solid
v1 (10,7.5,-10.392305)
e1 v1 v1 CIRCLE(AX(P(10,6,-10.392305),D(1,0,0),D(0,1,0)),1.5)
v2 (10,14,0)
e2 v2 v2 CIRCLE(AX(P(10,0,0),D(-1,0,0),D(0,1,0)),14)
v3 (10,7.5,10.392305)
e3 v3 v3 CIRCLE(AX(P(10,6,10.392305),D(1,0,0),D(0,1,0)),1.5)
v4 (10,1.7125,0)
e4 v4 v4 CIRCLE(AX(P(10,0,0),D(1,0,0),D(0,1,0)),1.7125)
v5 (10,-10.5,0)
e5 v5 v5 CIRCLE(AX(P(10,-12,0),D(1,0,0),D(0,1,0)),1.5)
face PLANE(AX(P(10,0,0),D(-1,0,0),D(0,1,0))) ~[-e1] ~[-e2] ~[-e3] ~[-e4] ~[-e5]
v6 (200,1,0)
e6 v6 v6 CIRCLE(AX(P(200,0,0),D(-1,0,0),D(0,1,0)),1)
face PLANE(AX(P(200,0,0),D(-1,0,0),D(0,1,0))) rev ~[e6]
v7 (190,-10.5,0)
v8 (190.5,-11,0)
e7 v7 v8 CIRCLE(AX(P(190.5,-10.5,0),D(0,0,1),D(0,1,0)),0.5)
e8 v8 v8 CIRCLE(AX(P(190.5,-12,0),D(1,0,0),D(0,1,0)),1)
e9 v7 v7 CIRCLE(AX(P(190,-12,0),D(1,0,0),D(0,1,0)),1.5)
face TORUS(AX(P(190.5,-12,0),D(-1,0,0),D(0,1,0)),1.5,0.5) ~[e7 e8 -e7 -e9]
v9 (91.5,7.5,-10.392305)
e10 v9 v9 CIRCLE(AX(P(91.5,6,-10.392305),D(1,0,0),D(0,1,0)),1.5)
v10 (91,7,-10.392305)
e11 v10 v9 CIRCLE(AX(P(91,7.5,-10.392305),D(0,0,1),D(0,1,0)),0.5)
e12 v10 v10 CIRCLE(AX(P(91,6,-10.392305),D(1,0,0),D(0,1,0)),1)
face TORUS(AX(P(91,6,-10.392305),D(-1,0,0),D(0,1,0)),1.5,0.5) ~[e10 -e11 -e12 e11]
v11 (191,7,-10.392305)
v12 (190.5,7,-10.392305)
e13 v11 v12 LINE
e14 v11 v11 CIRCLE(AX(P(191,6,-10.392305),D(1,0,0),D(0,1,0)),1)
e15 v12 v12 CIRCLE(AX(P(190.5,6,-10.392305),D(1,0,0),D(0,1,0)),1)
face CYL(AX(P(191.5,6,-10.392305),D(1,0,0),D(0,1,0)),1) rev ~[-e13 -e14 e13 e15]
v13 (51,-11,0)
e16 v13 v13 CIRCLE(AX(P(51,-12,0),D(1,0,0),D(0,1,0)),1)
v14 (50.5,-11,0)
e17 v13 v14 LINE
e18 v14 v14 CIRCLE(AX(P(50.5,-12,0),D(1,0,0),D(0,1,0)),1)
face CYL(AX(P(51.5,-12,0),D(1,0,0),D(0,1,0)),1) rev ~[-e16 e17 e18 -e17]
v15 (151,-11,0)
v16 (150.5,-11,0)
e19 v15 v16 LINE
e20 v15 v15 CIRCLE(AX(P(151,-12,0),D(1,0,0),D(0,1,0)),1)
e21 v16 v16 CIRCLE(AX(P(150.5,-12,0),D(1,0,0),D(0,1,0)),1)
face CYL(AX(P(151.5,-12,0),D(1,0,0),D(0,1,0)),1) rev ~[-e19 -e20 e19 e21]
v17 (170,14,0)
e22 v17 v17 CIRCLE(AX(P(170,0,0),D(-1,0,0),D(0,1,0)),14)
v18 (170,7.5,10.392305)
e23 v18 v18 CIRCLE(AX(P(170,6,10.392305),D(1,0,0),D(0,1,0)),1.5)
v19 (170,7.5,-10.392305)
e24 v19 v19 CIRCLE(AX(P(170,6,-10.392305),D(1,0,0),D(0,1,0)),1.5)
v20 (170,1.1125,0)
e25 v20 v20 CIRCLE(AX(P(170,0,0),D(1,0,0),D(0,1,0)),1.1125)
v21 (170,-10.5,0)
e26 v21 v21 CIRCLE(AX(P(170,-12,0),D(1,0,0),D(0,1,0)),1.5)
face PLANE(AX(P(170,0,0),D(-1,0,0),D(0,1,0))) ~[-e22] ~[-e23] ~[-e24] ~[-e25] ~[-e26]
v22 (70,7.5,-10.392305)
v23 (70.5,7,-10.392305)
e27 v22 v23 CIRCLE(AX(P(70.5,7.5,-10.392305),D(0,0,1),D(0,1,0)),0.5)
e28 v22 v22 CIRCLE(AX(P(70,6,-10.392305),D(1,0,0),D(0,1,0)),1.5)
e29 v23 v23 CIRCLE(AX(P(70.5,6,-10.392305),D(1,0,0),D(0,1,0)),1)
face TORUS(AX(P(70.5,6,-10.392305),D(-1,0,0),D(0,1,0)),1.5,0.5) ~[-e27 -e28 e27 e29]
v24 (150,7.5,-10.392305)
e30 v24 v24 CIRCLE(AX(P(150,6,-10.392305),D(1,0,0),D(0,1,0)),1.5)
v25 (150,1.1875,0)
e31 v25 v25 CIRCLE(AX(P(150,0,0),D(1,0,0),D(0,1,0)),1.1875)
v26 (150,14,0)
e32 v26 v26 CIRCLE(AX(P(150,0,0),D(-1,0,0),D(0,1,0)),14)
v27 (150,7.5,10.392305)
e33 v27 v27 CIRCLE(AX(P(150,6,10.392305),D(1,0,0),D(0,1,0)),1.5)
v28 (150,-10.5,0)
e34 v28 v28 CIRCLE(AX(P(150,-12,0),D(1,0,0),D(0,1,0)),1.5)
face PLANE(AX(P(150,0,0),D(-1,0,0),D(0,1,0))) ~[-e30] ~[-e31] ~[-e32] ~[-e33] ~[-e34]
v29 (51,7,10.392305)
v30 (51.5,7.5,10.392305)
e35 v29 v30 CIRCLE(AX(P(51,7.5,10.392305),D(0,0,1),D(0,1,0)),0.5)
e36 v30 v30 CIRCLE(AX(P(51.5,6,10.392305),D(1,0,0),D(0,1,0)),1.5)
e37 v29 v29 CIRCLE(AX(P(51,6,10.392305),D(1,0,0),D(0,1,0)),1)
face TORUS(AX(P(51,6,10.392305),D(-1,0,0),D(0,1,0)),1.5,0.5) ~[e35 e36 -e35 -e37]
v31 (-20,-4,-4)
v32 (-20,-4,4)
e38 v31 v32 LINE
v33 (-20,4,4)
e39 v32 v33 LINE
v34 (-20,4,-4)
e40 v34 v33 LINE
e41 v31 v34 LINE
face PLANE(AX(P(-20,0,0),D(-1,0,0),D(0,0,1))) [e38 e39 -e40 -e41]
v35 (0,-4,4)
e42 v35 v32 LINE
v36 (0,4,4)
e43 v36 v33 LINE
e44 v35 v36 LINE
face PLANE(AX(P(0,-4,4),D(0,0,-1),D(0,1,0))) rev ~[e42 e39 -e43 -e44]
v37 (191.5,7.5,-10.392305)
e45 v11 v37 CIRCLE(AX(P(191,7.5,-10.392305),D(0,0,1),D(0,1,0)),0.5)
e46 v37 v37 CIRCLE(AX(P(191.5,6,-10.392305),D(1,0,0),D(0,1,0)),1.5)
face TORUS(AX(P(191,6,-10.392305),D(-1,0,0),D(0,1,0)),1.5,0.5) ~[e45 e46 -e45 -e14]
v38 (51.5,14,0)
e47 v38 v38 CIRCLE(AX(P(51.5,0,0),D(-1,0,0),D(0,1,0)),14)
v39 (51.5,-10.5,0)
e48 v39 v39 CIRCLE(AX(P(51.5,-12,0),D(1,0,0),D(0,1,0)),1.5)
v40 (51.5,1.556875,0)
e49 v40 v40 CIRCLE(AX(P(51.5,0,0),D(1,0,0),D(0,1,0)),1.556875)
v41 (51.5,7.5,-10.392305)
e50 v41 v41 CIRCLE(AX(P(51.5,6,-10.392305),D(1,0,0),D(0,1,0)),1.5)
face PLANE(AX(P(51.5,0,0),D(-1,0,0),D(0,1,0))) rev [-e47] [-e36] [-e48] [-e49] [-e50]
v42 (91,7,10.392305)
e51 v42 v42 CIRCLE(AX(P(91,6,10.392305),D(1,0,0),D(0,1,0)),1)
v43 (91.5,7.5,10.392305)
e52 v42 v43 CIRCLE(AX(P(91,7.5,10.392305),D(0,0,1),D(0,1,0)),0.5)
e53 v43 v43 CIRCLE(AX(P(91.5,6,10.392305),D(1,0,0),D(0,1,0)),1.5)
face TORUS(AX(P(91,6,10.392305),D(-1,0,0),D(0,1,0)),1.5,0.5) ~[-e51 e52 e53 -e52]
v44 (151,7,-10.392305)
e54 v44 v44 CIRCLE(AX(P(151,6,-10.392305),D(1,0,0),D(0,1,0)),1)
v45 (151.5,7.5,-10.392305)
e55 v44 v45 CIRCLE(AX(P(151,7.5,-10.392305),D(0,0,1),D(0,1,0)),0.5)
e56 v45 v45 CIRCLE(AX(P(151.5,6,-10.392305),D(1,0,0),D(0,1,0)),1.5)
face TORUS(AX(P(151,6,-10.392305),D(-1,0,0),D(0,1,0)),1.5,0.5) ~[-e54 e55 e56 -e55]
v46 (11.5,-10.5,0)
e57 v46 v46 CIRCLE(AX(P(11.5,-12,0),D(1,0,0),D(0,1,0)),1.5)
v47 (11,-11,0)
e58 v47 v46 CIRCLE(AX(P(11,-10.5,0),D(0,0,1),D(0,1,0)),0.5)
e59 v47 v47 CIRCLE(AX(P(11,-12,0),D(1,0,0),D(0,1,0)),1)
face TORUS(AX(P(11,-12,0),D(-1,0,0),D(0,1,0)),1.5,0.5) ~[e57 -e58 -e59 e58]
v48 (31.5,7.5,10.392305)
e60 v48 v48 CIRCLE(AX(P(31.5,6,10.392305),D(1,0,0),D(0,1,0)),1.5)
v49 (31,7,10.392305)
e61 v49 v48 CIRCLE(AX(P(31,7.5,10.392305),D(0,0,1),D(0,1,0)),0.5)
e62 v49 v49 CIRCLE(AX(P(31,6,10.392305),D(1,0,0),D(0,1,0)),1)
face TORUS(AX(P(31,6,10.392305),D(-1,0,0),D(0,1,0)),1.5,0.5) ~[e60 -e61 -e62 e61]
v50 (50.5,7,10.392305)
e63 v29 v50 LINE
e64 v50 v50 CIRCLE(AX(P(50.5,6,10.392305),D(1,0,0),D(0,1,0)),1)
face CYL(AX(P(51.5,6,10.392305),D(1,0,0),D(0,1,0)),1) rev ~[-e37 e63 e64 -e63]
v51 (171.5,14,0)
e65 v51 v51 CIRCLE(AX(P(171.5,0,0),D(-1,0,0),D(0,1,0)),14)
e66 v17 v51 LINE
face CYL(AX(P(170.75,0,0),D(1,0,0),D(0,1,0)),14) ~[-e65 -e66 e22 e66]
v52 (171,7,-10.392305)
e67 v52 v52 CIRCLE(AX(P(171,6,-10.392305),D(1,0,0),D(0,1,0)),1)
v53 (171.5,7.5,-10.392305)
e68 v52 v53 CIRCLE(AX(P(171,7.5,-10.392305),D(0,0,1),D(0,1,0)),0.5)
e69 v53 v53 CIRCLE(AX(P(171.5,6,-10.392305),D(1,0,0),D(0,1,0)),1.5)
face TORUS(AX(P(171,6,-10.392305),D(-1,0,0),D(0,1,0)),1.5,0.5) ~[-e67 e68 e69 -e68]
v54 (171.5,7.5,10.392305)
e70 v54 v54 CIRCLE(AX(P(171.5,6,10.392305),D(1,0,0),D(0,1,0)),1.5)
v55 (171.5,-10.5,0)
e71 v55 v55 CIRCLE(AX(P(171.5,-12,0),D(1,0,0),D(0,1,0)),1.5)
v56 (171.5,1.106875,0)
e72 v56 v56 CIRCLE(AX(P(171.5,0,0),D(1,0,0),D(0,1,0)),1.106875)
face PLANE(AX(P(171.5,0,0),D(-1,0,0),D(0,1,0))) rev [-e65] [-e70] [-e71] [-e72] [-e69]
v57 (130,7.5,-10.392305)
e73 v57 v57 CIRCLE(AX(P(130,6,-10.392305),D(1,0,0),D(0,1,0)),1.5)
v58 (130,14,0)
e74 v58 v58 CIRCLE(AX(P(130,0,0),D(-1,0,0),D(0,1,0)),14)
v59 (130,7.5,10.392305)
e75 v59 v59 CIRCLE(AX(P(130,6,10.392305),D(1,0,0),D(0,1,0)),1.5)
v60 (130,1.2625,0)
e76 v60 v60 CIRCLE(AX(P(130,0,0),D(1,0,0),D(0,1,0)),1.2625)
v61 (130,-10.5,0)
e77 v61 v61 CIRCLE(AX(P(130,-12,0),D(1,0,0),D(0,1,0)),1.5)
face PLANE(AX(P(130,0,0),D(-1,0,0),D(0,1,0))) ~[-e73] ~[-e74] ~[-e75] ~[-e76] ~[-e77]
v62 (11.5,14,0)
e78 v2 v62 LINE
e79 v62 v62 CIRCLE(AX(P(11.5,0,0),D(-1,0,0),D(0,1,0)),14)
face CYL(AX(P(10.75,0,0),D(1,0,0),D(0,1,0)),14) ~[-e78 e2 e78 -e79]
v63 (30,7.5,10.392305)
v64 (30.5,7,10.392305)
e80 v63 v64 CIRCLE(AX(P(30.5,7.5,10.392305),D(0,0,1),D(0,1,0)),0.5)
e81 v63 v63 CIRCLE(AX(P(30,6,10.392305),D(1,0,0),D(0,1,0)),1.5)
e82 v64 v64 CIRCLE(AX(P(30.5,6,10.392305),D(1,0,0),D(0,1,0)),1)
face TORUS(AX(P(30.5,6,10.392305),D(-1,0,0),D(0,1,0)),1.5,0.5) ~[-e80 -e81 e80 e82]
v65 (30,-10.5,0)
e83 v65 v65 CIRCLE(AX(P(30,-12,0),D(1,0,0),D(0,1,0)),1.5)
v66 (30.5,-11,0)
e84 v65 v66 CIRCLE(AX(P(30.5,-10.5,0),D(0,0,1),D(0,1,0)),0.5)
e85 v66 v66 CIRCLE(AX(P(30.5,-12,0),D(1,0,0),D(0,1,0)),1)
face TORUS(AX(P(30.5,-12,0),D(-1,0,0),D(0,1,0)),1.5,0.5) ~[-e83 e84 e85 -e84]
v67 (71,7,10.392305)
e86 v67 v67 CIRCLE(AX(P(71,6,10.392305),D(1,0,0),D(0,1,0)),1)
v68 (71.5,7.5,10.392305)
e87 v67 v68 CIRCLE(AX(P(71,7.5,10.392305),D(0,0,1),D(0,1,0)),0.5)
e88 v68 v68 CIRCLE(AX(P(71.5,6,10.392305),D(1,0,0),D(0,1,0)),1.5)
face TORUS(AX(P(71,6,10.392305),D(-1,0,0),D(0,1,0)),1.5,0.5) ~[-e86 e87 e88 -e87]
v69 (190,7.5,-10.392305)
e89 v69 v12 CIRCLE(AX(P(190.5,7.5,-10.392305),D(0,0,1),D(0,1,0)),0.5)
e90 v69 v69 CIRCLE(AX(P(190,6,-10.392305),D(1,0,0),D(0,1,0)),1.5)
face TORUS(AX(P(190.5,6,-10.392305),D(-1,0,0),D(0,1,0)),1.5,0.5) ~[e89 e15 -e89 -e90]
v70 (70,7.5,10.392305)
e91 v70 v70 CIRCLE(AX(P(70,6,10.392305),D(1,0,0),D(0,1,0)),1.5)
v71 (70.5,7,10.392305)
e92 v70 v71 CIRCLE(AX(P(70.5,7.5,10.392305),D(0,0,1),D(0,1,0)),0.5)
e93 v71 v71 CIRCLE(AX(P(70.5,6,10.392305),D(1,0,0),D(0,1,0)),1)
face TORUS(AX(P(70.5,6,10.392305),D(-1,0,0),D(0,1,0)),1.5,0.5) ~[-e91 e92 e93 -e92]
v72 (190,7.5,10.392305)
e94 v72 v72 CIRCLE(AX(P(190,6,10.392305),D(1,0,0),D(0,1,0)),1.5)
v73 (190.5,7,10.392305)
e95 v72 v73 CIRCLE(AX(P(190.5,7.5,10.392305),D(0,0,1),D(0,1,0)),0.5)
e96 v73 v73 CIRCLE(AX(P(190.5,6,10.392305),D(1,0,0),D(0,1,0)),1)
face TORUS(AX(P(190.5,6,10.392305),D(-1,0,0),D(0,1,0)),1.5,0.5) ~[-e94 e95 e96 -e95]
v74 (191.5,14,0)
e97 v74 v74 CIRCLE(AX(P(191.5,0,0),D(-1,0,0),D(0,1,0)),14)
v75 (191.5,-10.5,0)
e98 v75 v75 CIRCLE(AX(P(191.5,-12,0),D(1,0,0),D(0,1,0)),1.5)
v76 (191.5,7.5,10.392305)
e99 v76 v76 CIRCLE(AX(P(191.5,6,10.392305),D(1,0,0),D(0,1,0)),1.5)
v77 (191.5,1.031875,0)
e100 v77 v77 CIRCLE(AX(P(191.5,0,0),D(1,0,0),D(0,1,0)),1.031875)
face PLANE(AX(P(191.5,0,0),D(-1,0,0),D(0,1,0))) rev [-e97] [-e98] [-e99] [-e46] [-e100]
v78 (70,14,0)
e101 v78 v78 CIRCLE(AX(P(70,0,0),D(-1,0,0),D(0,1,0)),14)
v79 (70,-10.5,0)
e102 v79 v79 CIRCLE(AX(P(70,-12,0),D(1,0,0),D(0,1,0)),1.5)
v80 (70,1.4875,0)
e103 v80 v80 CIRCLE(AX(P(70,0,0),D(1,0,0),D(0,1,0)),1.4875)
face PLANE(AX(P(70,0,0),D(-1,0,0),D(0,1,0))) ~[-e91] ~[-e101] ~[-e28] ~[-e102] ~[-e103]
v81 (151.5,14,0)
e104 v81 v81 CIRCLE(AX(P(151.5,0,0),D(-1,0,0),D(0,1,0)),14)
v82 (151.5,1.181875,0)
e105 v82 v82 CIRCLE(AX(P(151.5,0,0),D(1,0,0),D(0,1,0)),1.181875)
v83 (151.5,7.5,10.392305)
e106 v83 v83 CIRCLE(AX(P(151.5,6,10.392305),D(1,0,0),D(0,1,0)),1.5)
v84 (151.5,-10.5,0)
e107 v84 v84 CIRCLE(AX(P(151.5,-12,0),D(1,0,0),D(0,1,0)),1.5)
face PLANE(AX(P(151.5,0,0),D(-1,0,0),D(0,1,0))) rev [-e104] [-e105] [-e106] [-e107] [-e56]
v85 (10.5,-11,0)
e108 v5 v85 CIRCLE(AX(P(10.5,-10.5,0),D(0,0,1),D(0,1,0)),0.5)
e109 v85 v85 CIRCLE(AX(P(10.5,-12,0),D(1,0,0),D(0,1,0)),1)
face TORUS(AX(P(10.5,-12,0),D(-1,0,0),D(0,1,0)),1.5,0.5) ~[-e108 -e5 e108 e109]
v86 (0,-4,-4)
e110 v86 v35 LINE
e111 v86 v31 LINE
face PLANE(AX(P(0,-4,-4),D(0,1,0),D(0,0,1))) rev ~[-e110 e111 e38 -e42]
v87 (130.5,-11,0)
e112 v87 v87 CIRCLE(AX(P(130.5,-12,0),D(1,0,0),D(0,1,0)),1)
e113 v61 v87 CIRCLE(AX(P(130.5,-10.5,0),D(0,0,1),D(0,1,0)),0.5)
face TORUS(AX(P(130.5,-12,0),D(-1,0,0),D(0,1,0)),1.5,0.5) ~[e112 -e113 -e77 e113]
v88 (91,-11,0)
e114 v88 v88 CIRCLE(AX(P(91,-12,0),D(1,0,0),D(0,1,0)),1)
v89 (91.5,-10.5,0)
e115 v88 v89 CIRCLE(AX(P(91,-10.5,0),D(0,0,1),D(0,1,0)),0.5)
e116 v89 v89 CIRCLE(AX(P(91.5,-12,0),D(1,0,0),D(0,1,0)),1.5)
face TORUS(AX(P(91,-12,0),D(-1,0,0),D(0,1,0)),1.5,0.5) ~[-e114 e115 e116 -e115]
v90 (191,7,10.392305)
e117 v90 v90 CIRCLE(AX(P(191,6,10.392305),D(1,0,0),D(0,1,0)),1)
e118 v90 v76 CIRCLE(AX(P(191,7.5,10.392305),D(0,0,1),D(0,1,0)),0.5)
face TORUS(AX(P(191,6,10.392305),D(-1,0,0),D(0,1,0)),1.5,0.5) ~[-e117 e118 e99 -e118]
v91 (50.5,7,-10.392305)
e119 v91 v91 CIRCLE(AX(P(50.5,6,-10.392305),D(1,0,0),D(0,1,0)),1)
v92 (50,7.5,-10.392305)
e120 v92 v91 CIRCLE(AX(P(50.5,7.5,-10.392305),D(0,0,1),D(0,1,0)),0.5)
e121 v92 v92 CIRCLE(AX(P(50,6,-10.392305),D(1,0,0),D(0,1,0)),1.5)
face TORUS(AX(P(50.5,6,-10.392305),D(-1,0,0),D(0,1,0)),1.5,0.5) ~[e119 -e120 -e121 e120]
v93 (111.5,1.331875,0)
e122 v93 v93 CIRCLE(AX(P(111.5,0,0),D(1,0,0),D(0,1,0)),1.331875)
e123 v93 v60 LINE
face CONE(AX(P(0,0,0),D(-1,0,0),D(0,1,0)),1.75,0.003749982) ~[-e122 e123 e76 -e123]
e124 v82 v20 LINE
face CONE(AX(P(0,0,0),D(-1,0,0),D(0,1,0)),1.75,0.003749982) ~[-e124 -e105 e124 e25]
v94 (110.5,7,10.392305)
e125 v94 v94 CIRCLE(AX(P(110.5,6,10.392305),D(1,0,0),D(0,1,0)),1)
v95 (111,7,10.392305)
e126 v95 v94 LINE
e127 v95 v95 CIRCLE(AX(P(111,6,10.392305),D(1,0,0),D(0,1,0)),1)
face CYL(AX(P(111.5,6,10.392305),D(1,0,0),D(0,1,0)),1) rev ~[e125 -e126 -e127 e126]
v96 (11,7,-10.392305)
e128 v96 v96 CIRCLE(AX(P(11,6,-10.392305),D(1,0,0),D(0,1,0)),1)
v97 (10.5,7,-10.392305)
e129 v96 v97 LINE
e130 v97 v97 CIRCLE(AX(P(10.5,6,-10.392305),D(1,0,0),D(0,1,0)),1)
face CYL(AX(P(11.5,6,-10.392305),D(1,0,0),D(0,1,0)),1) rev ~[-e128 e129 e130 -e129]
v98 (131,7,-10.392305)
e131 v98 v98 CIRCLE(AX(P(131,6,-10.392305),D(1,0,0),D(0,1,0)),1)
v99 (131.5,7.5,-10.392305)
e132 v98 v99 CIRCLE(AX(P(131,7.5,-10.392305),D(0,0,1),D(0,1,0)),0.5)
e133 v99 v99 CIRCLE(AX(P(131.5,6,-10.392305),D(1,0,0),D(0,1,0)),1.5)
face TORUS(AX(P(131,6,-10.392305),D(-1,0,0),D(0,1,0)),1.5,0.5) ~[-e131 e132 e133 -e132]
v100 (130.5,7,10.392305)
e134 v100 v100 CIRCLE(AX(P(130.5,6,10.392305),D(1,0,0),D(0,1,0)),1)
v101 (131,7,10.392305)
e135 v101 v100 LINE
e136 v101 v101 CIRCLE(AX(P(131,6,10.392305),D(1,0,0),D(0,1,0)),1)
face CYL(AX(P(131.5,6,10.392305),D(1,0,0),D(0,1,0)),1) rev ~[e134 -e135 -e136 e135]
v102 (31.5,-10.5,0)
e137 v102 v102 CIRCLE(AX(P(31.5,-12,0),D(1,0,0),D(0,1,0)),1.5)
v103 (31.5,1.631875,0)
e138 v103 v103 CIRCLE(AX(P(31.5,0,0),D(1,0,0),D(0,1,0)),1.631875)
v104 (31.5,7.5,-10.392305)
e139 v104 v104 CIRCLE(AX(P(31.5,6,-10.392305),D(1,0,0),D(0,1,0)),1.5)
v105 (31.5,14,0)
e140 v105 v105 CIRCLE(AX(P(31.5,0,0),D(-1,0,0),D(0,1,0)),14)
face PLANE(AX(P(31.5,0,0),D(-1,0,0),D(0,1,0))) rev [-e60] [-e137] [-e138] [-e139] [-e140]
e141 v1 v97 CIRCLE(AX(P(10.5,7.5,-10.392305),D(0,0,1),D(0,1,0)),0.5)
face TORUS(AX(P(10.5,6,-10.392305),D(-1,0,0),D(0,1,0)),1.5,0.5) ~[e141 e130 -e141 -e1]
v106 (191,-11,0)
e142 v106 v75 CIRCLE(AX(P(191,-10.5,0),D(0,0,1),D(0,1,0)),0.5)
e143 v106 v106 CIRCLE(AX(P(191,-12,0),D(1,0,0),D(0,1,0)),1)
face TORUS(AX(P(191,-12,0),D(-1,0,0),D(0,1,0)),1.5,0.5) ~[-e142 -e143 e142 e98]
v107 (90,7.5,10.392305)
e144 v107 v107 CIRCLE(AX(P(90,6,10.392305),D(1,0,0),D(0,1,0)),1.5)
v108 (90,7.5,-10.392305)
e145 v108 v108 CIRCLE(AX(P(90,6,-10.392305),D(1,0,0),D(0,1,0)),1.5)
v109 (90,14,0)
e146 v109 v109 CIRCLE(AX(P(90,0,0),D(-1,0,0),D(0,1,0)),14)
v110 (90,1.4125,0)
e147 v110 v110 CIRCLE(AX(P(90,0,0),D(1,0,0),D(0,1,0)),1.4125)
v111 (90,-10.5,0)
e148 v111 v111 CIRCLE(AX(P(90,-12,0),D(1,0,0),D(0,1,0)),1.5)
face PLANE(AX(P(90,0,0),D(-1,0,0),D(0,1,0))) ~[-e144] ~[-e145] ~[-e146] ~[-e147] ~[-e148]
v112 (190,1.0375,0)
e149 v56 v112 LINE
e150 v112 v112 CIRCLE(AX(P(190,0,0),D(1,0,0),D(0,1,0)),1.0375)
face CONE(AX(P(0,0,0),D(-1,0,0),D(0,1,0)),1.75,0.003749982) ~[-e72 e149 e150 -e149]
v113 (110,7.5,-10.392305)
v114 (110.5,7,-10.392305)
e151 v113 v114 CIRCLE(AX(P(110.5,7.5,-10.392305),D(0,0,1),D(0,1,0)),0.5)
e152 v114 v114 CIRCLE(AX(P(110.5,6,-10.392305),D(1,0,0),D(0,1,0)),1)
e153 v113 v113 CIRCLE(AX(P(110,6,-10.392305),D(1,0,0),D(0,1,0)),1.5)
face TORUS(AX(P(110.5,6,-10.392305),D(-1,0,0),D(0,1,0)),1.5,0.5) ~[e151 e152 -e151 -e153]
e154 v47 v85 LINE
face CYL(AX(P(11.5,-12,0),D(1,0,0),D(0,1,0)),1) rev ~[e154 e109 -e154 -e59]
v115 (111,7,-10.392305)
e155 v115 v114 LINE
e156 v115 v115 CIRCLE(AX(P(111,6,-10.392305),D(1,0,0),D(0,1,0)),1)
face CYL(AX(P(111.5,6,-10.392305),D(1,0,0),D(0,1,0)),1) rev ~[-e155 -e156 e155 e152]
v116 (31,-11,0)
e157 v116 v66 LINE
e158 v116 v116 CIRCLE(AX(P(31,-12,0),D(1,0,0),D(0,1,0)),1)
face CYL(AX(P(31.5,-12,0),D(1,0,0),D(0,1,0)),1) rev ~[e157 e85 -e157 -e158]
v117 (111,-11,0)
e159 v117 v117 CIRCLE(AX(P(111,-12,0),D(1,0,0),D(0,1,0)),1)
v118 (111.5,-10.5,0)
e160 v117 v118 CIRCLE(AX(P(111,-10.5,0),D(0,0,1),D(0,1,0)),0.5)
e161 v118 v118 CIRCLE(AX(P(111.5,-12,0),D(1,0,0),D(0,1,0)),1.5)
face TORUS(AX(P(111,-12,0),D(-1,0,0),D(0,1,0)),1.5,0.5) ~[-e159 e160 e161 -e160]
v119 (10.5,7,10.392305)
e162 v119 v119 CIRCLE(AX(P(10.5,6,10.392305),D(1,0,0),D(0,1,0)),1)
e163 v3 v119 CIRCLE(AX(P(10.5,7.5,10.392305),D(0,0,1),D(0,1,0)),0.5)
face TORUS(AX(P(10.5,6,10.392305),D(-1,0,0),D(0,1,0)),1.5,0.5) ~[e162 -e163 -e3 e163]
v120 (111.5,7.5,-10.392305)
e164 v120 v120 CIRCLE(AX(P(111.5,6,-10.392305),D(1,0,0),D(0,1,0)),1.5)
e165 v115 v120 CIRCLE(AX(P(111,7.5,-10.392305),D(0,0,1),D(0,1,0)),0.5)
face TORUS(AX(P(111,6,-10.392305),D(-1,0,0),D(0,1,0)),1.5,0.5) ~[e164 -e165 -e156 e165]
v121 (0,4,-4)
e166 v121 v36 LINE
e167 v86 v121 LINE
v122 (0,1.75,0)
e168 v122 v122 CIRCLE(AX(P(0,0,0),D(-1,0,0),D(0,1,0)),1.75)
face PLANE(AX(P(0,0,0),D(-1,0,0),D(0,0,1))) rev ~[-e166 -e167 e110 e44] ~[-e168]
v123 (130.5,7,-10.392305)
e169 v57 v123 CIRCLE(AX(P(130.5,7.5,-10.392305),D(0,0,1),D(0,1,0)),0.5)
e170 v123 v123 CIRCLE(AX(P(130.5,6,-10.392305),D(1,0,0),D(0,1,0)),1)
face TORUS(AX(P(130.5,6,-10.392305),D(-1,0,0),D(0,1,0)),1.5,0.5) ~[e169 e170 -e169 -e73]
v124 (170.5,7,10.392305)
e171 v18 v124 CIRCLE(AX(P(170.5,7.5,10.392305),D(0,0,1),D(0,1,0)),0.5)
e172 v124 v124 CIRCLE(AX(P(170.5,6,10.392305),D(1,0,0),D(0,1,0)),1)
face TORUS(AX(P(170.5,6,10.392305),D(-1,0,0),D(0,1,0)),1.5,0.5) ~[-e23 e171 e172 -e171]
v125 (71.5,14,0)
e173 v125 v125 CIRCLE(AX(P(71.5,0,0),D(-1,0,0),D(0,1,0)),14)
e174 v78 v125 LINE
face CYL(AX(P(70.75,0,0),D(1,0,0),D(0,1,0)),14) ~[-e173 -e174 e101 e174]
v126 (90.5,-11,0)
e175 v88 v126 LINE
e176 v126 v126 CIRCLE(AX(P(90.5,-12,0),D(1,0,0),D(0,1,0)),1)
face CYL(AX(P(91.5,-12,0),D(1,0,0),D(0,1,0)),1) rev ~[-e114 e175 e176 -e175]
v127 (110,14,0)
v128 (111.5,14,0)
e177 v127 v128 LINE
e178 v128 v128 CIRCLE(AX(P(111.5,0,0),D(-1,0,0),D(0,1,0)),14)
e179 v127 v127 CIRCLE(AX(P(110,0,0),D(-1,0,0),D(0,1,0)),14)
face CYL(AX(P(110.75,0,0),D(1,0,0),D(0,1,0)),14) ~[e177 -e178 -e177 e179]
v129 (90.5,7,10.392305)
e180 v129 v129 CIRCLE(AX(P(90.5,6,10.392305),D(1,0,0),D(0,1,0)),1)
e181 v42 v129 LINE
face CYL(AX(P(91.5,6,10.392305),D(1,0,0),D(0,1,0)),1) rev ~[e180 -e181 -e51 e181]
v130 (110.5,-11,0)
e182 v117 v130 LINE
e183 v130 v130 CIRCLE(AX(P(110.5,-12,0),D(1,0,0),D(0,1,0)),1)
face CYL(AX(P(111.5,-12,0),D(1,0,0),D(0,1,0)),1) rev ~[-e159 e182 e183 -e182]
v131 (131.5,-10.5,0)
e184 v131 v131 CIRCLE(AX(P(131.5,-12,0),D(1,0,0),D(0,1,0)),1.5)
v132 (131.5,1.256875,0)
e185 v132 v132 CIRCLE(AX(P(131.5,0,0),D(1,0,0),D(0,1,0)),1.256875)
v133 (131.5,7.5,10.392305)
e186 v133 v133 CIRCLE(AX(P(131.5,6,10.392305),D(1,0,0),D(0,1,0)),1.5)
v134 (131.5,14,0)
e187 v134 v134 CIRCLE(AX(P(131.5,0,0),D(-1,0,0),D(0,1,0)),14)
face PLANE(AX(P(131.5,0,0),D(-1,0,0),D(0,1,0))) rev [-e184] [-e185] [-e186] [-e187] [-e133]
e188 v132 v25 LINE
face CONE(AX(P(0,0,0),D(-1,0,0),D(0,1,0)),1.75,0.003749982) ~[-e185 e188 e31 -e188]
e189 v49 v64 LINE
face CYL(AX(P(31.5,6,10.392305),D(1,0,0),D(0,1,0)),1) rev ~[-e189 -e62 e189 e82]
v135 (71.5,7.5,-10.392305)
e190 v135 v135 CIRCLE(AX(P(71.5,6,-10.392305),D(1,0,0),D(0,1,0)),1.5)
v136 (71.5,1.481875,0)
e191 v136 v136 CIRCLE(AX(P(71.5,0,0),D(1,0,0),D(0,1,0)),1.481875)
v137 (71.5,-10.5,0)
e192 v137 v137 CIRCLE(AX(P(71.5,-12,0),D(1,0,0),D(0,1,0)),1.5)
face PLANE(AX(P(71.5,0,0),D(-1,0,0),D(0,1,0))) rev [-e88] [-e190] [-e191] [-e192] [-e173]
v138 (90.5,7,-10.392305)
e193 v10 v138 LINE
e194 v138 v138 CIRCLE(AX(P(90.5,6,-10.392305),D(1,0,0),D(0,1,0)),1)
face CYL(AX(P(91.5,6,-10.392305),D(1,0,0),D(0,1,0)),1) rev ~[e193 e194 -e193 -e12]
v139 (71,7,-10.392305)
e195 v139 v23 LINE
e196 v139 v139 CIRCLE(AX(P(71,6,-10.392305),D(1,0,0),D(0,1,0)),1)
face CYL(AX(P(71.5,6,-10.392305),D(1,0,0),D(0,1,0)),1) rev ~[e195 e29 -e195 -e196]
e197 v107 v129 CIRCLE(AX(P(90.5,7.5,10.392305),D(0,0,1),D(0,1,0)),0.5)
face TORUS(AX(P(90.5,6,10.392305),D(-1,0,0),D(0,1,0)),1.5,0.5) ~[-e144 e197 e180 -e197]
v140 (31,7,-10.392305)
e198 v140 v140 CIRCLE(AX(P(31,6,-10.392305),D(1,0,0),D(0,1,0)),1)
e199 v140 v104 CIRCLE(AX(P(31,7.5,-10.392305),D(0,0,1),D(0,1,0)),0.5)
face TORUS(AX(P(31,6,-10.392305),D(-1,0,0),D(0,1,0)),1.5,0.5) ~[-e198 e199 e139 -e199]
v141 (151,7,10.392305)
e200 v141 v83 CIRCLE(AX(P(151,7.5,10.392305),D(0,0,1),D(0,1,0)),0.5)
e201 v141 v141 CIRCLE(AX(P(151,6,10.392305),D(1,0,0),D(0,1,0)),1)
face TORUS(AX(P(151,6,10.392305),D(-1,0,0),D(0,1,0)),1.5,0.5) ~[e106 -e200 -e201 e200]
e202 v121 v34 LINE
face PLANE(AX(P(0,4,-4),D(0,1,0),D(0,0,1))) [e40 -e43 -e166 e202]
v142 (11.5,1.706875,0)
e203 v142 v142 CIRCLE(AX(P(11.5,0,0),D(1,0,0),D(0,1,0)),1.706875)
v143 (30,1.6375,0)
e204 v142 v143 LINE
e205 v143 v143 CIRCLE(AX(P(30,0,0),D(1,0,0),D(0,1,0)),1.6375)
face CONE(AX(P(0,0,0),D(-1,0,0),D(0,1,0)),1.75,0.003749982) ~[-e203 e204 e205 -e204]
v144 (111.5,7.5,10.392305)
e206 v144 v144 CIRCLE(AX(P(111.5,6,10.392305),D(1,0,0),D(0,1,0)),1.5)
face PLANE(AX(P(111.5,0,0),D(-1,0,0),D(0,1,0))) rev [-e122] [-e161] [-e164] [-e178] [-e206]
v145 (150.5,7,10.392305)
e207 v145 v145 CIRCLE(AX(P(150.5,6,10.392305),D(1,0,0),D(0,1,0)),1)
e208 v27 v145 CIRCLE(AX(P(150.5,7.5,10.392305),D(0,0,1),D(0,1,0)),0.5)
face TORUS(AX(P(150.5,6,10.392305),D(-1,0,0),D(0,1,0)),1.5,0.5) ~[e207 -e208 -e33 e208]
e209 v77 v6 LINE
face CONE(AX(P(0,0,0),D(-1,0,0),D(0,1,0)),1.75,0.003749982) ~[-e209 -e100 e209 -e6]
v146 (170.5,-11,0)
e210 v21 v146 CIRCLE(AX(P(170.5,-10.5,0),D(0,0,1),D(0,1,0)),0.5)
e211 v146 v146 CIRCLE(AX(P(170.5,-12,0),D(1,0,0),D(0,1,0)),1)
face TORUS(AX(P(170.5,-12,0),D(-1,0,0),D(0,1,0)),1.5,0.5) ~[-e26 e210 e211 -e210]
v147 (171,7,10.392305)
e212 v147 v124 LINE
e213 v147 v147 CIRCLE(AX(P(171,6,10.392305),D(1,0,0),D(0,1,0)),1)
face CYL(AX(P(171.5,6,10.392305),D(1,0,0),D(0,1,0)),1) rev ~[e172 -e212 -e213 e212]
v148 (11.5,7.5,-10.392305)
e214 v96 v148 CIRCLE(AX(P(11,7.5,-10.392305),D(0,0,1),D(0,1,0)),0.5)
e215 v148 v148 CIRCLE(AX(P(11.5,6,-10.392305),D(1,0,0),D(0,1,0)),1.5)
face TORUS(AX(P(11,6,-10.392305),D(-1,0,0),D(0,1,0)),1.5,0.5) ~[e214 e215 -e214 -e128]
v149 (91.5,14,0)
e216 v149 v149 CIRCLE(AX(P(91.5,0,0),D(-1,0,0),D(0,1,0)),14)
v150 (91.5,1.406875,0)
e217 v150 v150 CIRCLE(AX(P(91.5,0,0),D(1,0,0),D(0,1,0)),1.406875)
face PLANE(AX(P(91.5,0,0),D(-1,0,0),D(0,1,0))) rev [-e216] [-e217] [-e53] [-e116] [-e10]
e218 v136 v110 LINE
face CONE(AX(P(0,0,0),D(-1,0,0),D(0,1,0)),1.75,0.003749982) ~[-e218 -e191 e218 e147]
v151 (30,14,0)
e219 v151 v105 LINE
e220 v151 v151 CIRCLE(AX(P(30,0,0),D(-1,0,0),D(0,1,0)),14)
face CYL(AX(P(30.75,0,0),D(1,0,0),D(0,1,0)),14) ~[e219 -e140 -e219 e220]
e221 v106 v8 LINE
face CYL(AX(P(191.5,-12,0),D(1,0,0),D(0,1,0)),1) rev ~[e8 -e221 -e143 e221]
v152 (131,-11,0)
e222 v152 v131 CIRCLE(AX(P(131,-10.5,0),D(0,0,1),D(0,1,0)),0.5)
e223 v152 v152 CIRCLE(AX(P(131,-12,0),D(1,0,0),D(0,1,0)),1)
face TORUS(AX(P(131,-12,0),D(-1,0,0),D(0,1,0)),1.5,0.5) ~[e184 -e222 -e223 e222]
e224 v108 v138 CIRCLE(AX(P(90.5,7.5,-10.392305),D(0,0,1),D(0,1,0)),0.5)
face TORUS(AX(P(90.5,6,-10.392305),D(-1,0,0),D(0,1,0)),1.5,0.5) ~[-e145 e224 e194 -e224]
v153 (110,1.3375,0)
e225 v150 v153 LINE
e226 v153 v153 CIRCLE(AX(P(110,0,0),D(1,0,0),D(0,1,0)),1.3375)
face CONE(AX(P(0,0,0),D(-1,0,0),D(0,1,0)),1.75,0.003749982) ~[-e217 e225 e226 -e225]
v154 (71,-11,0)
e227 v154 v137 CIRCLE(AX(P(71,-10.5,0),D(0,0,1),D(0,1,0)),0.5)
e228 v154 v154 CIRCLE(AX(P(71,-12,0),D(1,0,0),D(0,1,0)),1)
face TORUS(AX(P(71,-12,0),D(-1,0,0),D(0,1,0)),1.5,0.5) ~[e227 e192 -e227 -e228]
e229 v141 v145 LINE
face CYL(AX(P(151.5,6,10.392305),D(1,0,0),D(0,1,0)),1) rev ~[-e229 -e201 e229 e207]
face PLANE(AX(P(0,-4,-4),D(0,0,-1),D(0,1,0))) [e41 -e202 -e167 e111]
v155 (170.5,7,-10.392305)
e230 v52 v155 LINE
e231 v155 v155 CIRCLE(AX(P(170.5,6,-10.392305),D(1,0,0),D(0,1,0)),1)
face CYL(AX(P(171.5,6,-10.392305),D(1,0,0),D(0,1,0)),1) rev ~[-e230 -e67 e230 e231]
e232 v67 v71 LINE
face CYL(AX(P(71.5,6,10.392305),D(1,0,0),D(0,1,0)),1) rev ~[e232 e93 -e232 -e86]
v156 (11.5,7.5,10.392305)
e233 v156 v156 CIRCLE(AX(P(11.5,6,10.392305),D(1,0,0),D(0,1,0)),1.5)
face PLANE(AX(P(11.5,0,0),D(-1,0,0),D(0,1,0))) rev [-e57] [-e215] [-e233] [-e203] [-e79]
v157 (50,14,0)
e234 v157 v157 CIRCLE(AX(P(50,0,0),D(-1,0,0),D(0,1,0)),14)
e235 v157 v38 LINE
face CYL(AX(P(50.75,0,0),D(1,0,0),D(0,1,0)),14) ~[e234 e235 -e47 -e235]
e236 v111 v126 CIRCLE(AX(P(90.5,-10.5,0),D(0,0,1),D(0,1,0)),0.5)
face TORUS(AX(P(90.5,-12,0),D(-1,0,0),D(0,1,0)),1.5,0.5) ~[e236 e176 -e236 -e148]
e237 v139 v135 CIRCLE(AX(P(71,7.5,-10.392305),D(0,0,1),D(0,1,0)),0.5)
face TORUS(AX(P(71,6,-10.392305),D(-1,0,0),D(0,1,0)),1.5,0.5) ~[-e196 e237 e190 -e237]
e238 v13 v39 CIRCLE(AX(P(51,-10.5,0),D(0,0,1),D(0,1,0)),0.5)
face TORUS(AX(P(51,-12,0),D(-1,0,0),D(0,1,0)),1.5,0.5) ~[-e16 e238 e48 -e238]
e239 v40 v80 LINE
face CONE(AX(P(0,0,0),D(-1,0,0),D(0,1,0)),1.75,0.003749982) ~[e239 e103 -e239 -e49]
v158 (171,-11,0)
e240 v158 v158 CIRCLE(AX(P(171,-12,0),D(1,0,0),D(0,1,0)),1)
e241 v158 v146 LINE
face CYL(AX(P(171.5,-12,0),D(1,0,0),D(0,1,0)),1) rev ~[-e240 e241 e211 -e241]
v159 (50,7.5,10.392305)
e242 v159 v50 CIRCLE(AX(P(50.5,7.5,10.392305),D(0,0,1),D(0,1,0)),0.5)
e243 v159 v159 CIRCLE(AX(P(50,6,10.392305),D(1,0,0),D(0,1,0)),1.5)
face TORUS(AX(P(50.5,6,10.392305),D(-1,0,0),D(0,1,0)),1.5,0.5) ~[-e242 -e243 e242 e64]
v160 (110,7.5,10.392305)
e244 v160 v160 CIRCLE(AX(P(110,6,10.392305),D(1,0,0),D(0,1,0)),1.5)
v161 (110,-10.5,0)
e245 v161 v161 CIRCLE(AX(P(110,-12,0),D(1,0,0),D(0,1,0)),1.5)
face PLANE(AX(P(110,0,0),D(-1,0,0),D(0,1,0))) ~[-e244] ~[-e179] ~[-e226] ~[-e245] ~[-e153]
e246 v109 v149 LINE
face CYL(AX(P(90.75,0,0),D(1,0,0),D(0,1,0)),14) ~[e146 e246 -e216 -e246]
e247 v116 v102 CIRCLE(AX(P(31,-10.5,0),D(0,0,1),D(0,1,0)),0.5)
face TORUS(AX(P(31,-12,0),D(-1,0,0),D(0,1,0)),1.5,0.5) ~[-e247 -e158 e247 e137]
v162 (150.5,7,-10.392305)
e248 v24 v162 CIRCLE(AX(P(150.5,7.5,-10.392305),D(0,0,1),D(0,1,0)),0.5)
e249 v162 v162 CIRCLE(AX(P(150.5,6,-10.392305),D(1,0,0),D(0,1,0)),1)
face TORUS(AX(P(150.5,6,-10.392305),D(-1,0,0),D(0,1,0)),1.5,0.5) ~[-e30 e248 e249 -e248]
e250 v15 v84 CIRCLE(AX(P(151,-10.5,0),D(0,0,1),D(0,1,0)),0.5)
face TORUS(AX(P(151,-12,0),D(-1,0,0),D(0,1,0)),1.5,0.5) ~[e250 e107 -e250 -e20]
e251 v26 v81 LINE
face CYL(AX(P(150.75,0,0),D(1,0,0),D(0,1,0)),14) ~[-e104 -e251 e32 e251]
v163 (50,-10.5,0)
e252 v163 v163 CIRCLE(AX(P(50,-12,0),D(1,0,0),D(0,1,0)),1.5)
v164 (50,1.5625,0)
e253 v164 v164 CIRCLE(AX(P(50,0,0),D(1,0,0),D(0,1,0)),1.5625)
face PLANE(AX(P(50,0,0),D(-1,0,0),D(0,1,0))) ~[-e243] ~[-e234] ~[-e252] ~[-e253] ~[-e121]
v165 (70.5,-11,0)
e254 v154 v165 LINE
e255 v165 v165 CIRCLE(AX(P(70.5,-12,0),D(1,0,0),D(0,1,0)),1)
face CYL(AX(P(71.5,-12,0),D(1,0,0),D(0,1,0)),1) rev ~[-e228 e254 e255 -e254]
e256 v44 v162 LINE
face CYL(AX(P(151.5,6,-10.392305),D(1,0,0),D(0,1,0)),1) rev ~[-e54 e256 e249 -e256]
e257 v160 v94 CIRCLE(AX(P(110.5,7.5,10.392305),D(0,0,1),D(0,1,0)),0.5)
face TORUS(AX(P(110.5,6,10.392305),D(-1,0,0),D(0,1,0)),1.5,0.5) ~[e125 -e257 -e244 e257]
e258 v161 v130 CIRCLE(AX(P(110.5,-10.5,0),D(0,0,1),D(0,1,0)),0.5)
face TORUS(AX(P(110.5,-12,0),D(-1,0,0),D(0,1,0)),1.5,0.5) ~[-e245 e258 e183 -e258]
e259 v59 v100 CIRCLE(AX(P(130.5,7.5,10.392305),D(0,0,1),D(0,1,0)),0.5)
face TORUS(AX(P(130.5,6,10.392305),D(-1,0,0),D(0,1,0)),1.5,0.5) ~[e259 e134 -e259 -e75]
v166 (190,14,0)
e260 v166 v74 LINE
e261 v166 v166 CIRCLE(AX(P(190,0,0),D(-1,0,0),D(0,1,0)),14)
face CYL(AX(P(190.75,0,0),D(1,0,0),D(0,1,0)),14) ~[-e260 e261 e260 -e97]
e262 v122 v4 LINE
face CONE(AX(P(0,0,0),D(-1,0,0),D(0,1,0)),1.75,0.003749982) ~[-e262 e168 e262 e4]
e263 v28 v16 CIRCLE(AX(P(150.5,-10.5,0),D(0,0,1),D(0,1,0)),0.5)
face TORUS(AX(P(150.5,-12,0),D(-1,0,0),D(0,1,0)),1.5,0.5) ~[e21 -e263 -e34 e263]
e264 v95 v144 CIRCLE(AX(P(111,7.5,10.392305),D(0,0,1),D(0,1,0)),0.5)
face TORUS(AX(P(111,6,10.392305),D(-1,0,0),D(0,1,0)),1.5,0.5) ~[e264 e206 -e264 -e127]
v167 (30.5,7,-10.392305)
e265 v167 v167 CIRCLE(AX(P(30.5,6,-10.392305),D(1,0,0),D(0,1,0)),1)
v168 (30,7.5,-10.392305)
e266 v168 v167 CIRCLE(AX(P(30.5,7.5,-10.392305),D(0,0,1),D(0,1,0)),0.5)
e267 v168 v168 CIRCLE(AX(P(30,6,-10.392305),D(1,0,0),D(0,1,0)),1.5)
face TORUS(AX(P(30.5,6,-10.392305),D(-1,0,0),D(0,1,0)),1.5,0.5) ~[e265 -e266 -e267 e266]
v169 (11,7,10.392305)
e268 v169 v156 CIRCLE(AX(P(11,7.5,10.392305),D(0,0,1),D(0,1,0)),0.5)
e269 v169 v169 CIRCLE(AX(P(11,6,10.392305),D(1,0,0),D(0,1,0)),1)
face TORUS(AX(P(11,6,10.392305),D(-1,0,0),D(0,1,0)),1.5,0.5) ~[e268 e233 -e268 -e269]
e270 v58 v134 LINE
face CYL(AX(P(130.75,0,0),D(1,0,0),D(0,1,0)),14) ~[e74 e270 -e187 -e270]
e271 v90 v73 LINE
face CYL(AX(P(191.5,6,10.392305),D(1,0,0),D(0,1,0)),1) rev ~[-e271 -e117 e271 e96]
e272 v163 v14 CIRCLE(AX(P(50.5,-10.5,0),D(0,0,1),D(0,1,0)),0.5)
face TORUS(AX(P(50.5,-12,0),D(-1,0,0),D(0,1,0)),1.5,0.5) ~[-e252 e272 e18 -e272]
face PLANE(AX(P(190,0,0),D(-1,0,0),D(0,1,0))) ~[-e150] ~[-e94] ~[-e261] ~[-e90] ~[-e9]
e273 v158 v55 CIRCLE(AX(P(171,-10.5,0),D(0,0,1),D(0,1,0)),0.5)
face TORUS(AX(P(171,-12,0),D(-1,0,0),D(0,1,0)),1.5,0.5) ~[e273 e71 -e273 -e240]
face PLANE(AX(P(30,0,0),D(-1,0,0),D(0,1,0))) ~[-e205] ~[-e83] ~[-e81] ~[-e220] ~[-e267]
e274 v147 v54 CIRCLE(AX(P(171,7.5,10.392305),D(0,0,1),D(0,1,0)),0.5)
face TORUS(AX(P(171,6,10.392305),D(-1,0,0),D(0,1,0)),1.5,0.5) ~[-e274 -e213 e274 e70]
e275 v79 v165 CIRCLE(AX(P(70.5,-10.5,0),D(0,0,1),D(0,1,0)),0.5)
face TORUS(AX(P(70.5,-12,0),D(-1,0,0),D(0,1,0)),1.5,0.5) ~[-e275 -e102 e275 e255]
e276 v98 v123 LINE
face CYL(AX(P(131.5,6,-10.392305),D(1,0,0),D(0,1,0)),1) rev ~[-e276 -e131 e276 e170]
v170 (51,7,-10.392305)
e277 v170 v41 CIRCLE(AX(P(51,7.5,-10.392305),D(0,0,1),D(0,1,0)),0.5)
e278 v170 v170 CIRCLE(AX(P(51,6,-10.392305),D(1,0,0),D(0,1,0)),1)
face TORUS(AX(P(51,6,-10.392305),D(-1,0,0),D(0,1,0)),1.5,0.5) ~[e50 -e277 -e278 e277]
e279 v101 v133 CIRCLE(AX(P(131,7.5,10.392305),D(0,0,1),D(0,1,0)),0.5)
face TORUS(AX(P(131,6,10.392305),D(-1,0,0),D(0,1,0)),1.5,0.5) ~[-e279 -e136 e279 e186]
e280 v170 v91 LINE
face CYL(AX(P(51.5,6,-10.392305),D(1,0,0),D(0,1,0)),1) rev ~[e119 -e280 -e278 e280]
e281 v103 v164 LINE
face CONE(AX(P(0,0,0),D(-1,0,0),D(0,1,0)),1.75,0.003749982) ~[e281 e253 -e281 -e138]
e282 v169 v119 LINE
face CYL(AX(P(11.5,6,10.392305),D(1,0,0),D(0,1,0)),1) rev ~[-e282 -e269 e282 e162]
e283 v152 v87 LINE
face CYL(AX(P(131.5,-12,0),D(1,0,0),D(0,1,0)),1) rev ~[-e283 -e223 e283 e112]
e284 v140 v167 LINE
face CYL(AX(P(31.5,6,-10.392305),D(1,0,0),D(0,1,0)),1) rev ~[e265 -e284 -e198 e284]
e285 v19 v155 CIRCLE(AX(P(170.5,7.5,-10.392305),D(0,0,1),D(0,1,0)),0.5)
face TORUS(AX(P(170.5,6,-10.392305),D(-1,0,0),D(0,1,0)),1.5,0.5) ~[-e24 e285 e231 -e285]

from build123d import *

# Parameters (mm, degrees)
SKETCH3_W              = 1.5
SKETCH3_H              = 14
CUT_EXTRUDE1_REACH     = 191.537
SKETCH5_R              = 1
FILLET1_R              = 0.5
LPATTERN1_COUNT        = 10
LPATTERN1_PITCH        = 20
FILLET1_OF_LPATTERN1_R = 0.5
SKETCH16_W             = 8
SKETCH16_H             = 8
BOSS_EXTRUDE1_DEPTH    = 20


with BuildPart() as part:
    # Sketch2 → Revolve1 (revolve)
    with BuildSketch(Plane.XY):
        Polygon((0, 1.75), (200, 1), (200, 0), (0, 0), align=None)
    revolve(axis=Axis((200, 0, 0), (-1, 0, 0)))

    # Sketch3 → Revolve2 (revolve)
    with BuildSketch(Plane.XY):
        with Locations((10.75, 7)):
            Rectangle(SKETCH3_W, SKETCH3_H)
    revolve2 = revolve(axis=Axis((11.5, 0, 0), (-1, 0, 0)))

    # Sketch5 → Cut-Extrude1 (cut, up to next)
    with BuildSketch(Plane(origin=(11.5, 0, 0), x_dir=(0, 0, -1), z_dir=(1, 0, 0)), mode=Mode.PRIVATE) as cut_extrude1_sk1:
        with Locations((0, -12)):
            Circle(SKETCH5_R)
    cut_extrude1_tool1 = extrude(cut_extrude1_sk1.sketch, amount=-CUT_EXTRUDE1_REACH, mode=Mode.PRIVATE) & part.part
    # Sketch5 → Cut-Extrude1 (cut, up to next)
    with BuildSketch(Plane(origin=(11.5, 0, 0), x_dir=(0, 0, -1), z_dir=(1, 0, 0)), mode=Mode.PRIVATE) as cut_extrude1_sk2:
        with Locations((10.392304845, 6)):
            Circle(SKETCH5_R)
    cut_extrude1_tool2 = extrude(cut_extrude1_sk2.sketch, amount=-CUT_EXTRUDE1_REACH, mode=Mode.PRIVATE) & part.part
    # Sketch5 → Cut-Extrude1 (cut, up to next)
    with BuildSketch(Plane(origin=(11.5, 0, 0), x_dir=(0, 0, -1), z_dir=(1, 0, 0)), mode=Mode.PRIVATE) as cut_extrude1_sk3:
        with Locations((-10.392304845, 6)):
            Circle(SKETCH5_R)
    cut_extrude1_tool3 = extrude(cut_extrude1_sk3.sketch, amount=-CUT_EXTRUDE1_REACH, mode=Mode.PRIVATE) & part.part
    cut_extrude1_1 = cut_extrude1_tool1.solids().sort_by_distance((11.5, -12, 0))[0]
    add(cut_extrude1_1, mode=Mode.SUBTRACT)
    cut_extrude1_2 = cut_extrude1_tool2.solids().sort_by_distance((11.5, 6, -10.392305))[0]
    add(cut_extrude1_2, mode=Mode.SUBTRACT)
    cut_extrude1_3 = cut_extrude1_tool3.solids().sort_by_distance((11.5, 6, 10.392305))[0]
    add(cut_extrude1_3, mode=Mode.SUBTRACT)
    cut_extrude1 = cut_extrude1_1 + cut_extrude1_2 + cut_extrude1_3  # Cut-Extrude1 as one shape, for the pattern or mirror that repeats it

    # Fillet1
    fillet1_edges = [part.edges().sort_by_distance(p)[0] for p in [
        (10, 6, -9.392304845),
        (10, -12, 1),
        (11.5, -12, 1),
        (11.5, 6, -9.392304845),
        (10, 6, 11.392304845),
        (11.5, 6, 11.392304845),
    ]]
    fillet(fillet1_edges, radius=FILLET1_R)

    # LPattern1: Revolve2, Cut-Extrude1 ×10
    with Locations(*[(i * LPATTERN1_PITCH, 0, 0) for i in range(1, LPATTERN1_COUNT)]):
        add(revolve2)
        add(cut_extrude1, mode=Mode.SUBTRACT)

    # Fillet1 of LPattern1
    fillet1_of_lpattern1_edges = [part.edges().sort_by_distance(p)[0] for p in [
        (30, 6, -9.392304845),
        (30, -12, 1),
        (31.5, -12, 1),
        (31.5, 6, -9.392304845),
        (30, 6, 11.392304845),
        (31.5, 6, 11.392304845),
        (50, 6, -9.392304845),
        (50, -12, 1),
        (51.5, -12, 1),
        (51.5, 6, -9.392304845),
        (50, 6, 11.392304845),
        (51.5, 6, 11.392304845),
        (70, 6, -9.392304845),
        (70, -12, 1),
        (71.5, -12, 1),
        (71.5, 6, -9.392304845),
        (70, 6, 11.392304845),
        (71.5, 6, 11.392304845),
        (90, 6, -9.392304845),
        (90, -12, 1),
        (91.5, -12, 1),
        (91.5, 6, -9.392304845),
        (90, 6, 11.392304845),
        (91.5, 6, 11.392304845),
        (110, 6, -9.392304845),
        (110, -12, 1),
        (111.5, -12, 1),
        (111.5, 6, -9.392304845),
        (110, 6, 11.392304845),
        (111.5, 6, 11.392304845),
        (130, 6, -9.392304845),
        (130, -12, 1),
        (131.5, -12, 1),
        (131.5, 6, -9.392304845),
        (130, 6, 11.392304845),
        (131.5, 6, 11.392304845),
        (150, 6, -9.392304845),
        (150, -12, 1),
        (151.5, -12, 1),
        (151.5, 6, -9.392304845),
        (150, 6, 11.392304845),
        (151.5, 6, 11.392304845),
        (170, 6, -9.392304845),
        (170, -12, 1),
        (171.5, -12, 1),
        (171.5, 6, -9.392304845),
        (170, 6, 11.392304845),
        (171.5, 6, 11.392304845),
        (190, 6, -9.392304845),
        (190, -12, 1),
        (191.5, -12, 1),
        (191.5, 6, -9.392304845),
        (190, 6, 11.392304845),
        (191.5, 6, 11.392304845),
    ]]
    fillet(fillet1_of_lpattern1_edges, radius=FILLET1_OF_LPATTERN1_R)

    # Sketch16 → Boss-Extrude1 (add)
    with BuildSketch(Plane.ZY):
        Rectangle(SKETCH16_W, SKETCH16_H)
    extrude(amount=BOSS_EXTRUDE1_DEPTH)


solid = part.part
